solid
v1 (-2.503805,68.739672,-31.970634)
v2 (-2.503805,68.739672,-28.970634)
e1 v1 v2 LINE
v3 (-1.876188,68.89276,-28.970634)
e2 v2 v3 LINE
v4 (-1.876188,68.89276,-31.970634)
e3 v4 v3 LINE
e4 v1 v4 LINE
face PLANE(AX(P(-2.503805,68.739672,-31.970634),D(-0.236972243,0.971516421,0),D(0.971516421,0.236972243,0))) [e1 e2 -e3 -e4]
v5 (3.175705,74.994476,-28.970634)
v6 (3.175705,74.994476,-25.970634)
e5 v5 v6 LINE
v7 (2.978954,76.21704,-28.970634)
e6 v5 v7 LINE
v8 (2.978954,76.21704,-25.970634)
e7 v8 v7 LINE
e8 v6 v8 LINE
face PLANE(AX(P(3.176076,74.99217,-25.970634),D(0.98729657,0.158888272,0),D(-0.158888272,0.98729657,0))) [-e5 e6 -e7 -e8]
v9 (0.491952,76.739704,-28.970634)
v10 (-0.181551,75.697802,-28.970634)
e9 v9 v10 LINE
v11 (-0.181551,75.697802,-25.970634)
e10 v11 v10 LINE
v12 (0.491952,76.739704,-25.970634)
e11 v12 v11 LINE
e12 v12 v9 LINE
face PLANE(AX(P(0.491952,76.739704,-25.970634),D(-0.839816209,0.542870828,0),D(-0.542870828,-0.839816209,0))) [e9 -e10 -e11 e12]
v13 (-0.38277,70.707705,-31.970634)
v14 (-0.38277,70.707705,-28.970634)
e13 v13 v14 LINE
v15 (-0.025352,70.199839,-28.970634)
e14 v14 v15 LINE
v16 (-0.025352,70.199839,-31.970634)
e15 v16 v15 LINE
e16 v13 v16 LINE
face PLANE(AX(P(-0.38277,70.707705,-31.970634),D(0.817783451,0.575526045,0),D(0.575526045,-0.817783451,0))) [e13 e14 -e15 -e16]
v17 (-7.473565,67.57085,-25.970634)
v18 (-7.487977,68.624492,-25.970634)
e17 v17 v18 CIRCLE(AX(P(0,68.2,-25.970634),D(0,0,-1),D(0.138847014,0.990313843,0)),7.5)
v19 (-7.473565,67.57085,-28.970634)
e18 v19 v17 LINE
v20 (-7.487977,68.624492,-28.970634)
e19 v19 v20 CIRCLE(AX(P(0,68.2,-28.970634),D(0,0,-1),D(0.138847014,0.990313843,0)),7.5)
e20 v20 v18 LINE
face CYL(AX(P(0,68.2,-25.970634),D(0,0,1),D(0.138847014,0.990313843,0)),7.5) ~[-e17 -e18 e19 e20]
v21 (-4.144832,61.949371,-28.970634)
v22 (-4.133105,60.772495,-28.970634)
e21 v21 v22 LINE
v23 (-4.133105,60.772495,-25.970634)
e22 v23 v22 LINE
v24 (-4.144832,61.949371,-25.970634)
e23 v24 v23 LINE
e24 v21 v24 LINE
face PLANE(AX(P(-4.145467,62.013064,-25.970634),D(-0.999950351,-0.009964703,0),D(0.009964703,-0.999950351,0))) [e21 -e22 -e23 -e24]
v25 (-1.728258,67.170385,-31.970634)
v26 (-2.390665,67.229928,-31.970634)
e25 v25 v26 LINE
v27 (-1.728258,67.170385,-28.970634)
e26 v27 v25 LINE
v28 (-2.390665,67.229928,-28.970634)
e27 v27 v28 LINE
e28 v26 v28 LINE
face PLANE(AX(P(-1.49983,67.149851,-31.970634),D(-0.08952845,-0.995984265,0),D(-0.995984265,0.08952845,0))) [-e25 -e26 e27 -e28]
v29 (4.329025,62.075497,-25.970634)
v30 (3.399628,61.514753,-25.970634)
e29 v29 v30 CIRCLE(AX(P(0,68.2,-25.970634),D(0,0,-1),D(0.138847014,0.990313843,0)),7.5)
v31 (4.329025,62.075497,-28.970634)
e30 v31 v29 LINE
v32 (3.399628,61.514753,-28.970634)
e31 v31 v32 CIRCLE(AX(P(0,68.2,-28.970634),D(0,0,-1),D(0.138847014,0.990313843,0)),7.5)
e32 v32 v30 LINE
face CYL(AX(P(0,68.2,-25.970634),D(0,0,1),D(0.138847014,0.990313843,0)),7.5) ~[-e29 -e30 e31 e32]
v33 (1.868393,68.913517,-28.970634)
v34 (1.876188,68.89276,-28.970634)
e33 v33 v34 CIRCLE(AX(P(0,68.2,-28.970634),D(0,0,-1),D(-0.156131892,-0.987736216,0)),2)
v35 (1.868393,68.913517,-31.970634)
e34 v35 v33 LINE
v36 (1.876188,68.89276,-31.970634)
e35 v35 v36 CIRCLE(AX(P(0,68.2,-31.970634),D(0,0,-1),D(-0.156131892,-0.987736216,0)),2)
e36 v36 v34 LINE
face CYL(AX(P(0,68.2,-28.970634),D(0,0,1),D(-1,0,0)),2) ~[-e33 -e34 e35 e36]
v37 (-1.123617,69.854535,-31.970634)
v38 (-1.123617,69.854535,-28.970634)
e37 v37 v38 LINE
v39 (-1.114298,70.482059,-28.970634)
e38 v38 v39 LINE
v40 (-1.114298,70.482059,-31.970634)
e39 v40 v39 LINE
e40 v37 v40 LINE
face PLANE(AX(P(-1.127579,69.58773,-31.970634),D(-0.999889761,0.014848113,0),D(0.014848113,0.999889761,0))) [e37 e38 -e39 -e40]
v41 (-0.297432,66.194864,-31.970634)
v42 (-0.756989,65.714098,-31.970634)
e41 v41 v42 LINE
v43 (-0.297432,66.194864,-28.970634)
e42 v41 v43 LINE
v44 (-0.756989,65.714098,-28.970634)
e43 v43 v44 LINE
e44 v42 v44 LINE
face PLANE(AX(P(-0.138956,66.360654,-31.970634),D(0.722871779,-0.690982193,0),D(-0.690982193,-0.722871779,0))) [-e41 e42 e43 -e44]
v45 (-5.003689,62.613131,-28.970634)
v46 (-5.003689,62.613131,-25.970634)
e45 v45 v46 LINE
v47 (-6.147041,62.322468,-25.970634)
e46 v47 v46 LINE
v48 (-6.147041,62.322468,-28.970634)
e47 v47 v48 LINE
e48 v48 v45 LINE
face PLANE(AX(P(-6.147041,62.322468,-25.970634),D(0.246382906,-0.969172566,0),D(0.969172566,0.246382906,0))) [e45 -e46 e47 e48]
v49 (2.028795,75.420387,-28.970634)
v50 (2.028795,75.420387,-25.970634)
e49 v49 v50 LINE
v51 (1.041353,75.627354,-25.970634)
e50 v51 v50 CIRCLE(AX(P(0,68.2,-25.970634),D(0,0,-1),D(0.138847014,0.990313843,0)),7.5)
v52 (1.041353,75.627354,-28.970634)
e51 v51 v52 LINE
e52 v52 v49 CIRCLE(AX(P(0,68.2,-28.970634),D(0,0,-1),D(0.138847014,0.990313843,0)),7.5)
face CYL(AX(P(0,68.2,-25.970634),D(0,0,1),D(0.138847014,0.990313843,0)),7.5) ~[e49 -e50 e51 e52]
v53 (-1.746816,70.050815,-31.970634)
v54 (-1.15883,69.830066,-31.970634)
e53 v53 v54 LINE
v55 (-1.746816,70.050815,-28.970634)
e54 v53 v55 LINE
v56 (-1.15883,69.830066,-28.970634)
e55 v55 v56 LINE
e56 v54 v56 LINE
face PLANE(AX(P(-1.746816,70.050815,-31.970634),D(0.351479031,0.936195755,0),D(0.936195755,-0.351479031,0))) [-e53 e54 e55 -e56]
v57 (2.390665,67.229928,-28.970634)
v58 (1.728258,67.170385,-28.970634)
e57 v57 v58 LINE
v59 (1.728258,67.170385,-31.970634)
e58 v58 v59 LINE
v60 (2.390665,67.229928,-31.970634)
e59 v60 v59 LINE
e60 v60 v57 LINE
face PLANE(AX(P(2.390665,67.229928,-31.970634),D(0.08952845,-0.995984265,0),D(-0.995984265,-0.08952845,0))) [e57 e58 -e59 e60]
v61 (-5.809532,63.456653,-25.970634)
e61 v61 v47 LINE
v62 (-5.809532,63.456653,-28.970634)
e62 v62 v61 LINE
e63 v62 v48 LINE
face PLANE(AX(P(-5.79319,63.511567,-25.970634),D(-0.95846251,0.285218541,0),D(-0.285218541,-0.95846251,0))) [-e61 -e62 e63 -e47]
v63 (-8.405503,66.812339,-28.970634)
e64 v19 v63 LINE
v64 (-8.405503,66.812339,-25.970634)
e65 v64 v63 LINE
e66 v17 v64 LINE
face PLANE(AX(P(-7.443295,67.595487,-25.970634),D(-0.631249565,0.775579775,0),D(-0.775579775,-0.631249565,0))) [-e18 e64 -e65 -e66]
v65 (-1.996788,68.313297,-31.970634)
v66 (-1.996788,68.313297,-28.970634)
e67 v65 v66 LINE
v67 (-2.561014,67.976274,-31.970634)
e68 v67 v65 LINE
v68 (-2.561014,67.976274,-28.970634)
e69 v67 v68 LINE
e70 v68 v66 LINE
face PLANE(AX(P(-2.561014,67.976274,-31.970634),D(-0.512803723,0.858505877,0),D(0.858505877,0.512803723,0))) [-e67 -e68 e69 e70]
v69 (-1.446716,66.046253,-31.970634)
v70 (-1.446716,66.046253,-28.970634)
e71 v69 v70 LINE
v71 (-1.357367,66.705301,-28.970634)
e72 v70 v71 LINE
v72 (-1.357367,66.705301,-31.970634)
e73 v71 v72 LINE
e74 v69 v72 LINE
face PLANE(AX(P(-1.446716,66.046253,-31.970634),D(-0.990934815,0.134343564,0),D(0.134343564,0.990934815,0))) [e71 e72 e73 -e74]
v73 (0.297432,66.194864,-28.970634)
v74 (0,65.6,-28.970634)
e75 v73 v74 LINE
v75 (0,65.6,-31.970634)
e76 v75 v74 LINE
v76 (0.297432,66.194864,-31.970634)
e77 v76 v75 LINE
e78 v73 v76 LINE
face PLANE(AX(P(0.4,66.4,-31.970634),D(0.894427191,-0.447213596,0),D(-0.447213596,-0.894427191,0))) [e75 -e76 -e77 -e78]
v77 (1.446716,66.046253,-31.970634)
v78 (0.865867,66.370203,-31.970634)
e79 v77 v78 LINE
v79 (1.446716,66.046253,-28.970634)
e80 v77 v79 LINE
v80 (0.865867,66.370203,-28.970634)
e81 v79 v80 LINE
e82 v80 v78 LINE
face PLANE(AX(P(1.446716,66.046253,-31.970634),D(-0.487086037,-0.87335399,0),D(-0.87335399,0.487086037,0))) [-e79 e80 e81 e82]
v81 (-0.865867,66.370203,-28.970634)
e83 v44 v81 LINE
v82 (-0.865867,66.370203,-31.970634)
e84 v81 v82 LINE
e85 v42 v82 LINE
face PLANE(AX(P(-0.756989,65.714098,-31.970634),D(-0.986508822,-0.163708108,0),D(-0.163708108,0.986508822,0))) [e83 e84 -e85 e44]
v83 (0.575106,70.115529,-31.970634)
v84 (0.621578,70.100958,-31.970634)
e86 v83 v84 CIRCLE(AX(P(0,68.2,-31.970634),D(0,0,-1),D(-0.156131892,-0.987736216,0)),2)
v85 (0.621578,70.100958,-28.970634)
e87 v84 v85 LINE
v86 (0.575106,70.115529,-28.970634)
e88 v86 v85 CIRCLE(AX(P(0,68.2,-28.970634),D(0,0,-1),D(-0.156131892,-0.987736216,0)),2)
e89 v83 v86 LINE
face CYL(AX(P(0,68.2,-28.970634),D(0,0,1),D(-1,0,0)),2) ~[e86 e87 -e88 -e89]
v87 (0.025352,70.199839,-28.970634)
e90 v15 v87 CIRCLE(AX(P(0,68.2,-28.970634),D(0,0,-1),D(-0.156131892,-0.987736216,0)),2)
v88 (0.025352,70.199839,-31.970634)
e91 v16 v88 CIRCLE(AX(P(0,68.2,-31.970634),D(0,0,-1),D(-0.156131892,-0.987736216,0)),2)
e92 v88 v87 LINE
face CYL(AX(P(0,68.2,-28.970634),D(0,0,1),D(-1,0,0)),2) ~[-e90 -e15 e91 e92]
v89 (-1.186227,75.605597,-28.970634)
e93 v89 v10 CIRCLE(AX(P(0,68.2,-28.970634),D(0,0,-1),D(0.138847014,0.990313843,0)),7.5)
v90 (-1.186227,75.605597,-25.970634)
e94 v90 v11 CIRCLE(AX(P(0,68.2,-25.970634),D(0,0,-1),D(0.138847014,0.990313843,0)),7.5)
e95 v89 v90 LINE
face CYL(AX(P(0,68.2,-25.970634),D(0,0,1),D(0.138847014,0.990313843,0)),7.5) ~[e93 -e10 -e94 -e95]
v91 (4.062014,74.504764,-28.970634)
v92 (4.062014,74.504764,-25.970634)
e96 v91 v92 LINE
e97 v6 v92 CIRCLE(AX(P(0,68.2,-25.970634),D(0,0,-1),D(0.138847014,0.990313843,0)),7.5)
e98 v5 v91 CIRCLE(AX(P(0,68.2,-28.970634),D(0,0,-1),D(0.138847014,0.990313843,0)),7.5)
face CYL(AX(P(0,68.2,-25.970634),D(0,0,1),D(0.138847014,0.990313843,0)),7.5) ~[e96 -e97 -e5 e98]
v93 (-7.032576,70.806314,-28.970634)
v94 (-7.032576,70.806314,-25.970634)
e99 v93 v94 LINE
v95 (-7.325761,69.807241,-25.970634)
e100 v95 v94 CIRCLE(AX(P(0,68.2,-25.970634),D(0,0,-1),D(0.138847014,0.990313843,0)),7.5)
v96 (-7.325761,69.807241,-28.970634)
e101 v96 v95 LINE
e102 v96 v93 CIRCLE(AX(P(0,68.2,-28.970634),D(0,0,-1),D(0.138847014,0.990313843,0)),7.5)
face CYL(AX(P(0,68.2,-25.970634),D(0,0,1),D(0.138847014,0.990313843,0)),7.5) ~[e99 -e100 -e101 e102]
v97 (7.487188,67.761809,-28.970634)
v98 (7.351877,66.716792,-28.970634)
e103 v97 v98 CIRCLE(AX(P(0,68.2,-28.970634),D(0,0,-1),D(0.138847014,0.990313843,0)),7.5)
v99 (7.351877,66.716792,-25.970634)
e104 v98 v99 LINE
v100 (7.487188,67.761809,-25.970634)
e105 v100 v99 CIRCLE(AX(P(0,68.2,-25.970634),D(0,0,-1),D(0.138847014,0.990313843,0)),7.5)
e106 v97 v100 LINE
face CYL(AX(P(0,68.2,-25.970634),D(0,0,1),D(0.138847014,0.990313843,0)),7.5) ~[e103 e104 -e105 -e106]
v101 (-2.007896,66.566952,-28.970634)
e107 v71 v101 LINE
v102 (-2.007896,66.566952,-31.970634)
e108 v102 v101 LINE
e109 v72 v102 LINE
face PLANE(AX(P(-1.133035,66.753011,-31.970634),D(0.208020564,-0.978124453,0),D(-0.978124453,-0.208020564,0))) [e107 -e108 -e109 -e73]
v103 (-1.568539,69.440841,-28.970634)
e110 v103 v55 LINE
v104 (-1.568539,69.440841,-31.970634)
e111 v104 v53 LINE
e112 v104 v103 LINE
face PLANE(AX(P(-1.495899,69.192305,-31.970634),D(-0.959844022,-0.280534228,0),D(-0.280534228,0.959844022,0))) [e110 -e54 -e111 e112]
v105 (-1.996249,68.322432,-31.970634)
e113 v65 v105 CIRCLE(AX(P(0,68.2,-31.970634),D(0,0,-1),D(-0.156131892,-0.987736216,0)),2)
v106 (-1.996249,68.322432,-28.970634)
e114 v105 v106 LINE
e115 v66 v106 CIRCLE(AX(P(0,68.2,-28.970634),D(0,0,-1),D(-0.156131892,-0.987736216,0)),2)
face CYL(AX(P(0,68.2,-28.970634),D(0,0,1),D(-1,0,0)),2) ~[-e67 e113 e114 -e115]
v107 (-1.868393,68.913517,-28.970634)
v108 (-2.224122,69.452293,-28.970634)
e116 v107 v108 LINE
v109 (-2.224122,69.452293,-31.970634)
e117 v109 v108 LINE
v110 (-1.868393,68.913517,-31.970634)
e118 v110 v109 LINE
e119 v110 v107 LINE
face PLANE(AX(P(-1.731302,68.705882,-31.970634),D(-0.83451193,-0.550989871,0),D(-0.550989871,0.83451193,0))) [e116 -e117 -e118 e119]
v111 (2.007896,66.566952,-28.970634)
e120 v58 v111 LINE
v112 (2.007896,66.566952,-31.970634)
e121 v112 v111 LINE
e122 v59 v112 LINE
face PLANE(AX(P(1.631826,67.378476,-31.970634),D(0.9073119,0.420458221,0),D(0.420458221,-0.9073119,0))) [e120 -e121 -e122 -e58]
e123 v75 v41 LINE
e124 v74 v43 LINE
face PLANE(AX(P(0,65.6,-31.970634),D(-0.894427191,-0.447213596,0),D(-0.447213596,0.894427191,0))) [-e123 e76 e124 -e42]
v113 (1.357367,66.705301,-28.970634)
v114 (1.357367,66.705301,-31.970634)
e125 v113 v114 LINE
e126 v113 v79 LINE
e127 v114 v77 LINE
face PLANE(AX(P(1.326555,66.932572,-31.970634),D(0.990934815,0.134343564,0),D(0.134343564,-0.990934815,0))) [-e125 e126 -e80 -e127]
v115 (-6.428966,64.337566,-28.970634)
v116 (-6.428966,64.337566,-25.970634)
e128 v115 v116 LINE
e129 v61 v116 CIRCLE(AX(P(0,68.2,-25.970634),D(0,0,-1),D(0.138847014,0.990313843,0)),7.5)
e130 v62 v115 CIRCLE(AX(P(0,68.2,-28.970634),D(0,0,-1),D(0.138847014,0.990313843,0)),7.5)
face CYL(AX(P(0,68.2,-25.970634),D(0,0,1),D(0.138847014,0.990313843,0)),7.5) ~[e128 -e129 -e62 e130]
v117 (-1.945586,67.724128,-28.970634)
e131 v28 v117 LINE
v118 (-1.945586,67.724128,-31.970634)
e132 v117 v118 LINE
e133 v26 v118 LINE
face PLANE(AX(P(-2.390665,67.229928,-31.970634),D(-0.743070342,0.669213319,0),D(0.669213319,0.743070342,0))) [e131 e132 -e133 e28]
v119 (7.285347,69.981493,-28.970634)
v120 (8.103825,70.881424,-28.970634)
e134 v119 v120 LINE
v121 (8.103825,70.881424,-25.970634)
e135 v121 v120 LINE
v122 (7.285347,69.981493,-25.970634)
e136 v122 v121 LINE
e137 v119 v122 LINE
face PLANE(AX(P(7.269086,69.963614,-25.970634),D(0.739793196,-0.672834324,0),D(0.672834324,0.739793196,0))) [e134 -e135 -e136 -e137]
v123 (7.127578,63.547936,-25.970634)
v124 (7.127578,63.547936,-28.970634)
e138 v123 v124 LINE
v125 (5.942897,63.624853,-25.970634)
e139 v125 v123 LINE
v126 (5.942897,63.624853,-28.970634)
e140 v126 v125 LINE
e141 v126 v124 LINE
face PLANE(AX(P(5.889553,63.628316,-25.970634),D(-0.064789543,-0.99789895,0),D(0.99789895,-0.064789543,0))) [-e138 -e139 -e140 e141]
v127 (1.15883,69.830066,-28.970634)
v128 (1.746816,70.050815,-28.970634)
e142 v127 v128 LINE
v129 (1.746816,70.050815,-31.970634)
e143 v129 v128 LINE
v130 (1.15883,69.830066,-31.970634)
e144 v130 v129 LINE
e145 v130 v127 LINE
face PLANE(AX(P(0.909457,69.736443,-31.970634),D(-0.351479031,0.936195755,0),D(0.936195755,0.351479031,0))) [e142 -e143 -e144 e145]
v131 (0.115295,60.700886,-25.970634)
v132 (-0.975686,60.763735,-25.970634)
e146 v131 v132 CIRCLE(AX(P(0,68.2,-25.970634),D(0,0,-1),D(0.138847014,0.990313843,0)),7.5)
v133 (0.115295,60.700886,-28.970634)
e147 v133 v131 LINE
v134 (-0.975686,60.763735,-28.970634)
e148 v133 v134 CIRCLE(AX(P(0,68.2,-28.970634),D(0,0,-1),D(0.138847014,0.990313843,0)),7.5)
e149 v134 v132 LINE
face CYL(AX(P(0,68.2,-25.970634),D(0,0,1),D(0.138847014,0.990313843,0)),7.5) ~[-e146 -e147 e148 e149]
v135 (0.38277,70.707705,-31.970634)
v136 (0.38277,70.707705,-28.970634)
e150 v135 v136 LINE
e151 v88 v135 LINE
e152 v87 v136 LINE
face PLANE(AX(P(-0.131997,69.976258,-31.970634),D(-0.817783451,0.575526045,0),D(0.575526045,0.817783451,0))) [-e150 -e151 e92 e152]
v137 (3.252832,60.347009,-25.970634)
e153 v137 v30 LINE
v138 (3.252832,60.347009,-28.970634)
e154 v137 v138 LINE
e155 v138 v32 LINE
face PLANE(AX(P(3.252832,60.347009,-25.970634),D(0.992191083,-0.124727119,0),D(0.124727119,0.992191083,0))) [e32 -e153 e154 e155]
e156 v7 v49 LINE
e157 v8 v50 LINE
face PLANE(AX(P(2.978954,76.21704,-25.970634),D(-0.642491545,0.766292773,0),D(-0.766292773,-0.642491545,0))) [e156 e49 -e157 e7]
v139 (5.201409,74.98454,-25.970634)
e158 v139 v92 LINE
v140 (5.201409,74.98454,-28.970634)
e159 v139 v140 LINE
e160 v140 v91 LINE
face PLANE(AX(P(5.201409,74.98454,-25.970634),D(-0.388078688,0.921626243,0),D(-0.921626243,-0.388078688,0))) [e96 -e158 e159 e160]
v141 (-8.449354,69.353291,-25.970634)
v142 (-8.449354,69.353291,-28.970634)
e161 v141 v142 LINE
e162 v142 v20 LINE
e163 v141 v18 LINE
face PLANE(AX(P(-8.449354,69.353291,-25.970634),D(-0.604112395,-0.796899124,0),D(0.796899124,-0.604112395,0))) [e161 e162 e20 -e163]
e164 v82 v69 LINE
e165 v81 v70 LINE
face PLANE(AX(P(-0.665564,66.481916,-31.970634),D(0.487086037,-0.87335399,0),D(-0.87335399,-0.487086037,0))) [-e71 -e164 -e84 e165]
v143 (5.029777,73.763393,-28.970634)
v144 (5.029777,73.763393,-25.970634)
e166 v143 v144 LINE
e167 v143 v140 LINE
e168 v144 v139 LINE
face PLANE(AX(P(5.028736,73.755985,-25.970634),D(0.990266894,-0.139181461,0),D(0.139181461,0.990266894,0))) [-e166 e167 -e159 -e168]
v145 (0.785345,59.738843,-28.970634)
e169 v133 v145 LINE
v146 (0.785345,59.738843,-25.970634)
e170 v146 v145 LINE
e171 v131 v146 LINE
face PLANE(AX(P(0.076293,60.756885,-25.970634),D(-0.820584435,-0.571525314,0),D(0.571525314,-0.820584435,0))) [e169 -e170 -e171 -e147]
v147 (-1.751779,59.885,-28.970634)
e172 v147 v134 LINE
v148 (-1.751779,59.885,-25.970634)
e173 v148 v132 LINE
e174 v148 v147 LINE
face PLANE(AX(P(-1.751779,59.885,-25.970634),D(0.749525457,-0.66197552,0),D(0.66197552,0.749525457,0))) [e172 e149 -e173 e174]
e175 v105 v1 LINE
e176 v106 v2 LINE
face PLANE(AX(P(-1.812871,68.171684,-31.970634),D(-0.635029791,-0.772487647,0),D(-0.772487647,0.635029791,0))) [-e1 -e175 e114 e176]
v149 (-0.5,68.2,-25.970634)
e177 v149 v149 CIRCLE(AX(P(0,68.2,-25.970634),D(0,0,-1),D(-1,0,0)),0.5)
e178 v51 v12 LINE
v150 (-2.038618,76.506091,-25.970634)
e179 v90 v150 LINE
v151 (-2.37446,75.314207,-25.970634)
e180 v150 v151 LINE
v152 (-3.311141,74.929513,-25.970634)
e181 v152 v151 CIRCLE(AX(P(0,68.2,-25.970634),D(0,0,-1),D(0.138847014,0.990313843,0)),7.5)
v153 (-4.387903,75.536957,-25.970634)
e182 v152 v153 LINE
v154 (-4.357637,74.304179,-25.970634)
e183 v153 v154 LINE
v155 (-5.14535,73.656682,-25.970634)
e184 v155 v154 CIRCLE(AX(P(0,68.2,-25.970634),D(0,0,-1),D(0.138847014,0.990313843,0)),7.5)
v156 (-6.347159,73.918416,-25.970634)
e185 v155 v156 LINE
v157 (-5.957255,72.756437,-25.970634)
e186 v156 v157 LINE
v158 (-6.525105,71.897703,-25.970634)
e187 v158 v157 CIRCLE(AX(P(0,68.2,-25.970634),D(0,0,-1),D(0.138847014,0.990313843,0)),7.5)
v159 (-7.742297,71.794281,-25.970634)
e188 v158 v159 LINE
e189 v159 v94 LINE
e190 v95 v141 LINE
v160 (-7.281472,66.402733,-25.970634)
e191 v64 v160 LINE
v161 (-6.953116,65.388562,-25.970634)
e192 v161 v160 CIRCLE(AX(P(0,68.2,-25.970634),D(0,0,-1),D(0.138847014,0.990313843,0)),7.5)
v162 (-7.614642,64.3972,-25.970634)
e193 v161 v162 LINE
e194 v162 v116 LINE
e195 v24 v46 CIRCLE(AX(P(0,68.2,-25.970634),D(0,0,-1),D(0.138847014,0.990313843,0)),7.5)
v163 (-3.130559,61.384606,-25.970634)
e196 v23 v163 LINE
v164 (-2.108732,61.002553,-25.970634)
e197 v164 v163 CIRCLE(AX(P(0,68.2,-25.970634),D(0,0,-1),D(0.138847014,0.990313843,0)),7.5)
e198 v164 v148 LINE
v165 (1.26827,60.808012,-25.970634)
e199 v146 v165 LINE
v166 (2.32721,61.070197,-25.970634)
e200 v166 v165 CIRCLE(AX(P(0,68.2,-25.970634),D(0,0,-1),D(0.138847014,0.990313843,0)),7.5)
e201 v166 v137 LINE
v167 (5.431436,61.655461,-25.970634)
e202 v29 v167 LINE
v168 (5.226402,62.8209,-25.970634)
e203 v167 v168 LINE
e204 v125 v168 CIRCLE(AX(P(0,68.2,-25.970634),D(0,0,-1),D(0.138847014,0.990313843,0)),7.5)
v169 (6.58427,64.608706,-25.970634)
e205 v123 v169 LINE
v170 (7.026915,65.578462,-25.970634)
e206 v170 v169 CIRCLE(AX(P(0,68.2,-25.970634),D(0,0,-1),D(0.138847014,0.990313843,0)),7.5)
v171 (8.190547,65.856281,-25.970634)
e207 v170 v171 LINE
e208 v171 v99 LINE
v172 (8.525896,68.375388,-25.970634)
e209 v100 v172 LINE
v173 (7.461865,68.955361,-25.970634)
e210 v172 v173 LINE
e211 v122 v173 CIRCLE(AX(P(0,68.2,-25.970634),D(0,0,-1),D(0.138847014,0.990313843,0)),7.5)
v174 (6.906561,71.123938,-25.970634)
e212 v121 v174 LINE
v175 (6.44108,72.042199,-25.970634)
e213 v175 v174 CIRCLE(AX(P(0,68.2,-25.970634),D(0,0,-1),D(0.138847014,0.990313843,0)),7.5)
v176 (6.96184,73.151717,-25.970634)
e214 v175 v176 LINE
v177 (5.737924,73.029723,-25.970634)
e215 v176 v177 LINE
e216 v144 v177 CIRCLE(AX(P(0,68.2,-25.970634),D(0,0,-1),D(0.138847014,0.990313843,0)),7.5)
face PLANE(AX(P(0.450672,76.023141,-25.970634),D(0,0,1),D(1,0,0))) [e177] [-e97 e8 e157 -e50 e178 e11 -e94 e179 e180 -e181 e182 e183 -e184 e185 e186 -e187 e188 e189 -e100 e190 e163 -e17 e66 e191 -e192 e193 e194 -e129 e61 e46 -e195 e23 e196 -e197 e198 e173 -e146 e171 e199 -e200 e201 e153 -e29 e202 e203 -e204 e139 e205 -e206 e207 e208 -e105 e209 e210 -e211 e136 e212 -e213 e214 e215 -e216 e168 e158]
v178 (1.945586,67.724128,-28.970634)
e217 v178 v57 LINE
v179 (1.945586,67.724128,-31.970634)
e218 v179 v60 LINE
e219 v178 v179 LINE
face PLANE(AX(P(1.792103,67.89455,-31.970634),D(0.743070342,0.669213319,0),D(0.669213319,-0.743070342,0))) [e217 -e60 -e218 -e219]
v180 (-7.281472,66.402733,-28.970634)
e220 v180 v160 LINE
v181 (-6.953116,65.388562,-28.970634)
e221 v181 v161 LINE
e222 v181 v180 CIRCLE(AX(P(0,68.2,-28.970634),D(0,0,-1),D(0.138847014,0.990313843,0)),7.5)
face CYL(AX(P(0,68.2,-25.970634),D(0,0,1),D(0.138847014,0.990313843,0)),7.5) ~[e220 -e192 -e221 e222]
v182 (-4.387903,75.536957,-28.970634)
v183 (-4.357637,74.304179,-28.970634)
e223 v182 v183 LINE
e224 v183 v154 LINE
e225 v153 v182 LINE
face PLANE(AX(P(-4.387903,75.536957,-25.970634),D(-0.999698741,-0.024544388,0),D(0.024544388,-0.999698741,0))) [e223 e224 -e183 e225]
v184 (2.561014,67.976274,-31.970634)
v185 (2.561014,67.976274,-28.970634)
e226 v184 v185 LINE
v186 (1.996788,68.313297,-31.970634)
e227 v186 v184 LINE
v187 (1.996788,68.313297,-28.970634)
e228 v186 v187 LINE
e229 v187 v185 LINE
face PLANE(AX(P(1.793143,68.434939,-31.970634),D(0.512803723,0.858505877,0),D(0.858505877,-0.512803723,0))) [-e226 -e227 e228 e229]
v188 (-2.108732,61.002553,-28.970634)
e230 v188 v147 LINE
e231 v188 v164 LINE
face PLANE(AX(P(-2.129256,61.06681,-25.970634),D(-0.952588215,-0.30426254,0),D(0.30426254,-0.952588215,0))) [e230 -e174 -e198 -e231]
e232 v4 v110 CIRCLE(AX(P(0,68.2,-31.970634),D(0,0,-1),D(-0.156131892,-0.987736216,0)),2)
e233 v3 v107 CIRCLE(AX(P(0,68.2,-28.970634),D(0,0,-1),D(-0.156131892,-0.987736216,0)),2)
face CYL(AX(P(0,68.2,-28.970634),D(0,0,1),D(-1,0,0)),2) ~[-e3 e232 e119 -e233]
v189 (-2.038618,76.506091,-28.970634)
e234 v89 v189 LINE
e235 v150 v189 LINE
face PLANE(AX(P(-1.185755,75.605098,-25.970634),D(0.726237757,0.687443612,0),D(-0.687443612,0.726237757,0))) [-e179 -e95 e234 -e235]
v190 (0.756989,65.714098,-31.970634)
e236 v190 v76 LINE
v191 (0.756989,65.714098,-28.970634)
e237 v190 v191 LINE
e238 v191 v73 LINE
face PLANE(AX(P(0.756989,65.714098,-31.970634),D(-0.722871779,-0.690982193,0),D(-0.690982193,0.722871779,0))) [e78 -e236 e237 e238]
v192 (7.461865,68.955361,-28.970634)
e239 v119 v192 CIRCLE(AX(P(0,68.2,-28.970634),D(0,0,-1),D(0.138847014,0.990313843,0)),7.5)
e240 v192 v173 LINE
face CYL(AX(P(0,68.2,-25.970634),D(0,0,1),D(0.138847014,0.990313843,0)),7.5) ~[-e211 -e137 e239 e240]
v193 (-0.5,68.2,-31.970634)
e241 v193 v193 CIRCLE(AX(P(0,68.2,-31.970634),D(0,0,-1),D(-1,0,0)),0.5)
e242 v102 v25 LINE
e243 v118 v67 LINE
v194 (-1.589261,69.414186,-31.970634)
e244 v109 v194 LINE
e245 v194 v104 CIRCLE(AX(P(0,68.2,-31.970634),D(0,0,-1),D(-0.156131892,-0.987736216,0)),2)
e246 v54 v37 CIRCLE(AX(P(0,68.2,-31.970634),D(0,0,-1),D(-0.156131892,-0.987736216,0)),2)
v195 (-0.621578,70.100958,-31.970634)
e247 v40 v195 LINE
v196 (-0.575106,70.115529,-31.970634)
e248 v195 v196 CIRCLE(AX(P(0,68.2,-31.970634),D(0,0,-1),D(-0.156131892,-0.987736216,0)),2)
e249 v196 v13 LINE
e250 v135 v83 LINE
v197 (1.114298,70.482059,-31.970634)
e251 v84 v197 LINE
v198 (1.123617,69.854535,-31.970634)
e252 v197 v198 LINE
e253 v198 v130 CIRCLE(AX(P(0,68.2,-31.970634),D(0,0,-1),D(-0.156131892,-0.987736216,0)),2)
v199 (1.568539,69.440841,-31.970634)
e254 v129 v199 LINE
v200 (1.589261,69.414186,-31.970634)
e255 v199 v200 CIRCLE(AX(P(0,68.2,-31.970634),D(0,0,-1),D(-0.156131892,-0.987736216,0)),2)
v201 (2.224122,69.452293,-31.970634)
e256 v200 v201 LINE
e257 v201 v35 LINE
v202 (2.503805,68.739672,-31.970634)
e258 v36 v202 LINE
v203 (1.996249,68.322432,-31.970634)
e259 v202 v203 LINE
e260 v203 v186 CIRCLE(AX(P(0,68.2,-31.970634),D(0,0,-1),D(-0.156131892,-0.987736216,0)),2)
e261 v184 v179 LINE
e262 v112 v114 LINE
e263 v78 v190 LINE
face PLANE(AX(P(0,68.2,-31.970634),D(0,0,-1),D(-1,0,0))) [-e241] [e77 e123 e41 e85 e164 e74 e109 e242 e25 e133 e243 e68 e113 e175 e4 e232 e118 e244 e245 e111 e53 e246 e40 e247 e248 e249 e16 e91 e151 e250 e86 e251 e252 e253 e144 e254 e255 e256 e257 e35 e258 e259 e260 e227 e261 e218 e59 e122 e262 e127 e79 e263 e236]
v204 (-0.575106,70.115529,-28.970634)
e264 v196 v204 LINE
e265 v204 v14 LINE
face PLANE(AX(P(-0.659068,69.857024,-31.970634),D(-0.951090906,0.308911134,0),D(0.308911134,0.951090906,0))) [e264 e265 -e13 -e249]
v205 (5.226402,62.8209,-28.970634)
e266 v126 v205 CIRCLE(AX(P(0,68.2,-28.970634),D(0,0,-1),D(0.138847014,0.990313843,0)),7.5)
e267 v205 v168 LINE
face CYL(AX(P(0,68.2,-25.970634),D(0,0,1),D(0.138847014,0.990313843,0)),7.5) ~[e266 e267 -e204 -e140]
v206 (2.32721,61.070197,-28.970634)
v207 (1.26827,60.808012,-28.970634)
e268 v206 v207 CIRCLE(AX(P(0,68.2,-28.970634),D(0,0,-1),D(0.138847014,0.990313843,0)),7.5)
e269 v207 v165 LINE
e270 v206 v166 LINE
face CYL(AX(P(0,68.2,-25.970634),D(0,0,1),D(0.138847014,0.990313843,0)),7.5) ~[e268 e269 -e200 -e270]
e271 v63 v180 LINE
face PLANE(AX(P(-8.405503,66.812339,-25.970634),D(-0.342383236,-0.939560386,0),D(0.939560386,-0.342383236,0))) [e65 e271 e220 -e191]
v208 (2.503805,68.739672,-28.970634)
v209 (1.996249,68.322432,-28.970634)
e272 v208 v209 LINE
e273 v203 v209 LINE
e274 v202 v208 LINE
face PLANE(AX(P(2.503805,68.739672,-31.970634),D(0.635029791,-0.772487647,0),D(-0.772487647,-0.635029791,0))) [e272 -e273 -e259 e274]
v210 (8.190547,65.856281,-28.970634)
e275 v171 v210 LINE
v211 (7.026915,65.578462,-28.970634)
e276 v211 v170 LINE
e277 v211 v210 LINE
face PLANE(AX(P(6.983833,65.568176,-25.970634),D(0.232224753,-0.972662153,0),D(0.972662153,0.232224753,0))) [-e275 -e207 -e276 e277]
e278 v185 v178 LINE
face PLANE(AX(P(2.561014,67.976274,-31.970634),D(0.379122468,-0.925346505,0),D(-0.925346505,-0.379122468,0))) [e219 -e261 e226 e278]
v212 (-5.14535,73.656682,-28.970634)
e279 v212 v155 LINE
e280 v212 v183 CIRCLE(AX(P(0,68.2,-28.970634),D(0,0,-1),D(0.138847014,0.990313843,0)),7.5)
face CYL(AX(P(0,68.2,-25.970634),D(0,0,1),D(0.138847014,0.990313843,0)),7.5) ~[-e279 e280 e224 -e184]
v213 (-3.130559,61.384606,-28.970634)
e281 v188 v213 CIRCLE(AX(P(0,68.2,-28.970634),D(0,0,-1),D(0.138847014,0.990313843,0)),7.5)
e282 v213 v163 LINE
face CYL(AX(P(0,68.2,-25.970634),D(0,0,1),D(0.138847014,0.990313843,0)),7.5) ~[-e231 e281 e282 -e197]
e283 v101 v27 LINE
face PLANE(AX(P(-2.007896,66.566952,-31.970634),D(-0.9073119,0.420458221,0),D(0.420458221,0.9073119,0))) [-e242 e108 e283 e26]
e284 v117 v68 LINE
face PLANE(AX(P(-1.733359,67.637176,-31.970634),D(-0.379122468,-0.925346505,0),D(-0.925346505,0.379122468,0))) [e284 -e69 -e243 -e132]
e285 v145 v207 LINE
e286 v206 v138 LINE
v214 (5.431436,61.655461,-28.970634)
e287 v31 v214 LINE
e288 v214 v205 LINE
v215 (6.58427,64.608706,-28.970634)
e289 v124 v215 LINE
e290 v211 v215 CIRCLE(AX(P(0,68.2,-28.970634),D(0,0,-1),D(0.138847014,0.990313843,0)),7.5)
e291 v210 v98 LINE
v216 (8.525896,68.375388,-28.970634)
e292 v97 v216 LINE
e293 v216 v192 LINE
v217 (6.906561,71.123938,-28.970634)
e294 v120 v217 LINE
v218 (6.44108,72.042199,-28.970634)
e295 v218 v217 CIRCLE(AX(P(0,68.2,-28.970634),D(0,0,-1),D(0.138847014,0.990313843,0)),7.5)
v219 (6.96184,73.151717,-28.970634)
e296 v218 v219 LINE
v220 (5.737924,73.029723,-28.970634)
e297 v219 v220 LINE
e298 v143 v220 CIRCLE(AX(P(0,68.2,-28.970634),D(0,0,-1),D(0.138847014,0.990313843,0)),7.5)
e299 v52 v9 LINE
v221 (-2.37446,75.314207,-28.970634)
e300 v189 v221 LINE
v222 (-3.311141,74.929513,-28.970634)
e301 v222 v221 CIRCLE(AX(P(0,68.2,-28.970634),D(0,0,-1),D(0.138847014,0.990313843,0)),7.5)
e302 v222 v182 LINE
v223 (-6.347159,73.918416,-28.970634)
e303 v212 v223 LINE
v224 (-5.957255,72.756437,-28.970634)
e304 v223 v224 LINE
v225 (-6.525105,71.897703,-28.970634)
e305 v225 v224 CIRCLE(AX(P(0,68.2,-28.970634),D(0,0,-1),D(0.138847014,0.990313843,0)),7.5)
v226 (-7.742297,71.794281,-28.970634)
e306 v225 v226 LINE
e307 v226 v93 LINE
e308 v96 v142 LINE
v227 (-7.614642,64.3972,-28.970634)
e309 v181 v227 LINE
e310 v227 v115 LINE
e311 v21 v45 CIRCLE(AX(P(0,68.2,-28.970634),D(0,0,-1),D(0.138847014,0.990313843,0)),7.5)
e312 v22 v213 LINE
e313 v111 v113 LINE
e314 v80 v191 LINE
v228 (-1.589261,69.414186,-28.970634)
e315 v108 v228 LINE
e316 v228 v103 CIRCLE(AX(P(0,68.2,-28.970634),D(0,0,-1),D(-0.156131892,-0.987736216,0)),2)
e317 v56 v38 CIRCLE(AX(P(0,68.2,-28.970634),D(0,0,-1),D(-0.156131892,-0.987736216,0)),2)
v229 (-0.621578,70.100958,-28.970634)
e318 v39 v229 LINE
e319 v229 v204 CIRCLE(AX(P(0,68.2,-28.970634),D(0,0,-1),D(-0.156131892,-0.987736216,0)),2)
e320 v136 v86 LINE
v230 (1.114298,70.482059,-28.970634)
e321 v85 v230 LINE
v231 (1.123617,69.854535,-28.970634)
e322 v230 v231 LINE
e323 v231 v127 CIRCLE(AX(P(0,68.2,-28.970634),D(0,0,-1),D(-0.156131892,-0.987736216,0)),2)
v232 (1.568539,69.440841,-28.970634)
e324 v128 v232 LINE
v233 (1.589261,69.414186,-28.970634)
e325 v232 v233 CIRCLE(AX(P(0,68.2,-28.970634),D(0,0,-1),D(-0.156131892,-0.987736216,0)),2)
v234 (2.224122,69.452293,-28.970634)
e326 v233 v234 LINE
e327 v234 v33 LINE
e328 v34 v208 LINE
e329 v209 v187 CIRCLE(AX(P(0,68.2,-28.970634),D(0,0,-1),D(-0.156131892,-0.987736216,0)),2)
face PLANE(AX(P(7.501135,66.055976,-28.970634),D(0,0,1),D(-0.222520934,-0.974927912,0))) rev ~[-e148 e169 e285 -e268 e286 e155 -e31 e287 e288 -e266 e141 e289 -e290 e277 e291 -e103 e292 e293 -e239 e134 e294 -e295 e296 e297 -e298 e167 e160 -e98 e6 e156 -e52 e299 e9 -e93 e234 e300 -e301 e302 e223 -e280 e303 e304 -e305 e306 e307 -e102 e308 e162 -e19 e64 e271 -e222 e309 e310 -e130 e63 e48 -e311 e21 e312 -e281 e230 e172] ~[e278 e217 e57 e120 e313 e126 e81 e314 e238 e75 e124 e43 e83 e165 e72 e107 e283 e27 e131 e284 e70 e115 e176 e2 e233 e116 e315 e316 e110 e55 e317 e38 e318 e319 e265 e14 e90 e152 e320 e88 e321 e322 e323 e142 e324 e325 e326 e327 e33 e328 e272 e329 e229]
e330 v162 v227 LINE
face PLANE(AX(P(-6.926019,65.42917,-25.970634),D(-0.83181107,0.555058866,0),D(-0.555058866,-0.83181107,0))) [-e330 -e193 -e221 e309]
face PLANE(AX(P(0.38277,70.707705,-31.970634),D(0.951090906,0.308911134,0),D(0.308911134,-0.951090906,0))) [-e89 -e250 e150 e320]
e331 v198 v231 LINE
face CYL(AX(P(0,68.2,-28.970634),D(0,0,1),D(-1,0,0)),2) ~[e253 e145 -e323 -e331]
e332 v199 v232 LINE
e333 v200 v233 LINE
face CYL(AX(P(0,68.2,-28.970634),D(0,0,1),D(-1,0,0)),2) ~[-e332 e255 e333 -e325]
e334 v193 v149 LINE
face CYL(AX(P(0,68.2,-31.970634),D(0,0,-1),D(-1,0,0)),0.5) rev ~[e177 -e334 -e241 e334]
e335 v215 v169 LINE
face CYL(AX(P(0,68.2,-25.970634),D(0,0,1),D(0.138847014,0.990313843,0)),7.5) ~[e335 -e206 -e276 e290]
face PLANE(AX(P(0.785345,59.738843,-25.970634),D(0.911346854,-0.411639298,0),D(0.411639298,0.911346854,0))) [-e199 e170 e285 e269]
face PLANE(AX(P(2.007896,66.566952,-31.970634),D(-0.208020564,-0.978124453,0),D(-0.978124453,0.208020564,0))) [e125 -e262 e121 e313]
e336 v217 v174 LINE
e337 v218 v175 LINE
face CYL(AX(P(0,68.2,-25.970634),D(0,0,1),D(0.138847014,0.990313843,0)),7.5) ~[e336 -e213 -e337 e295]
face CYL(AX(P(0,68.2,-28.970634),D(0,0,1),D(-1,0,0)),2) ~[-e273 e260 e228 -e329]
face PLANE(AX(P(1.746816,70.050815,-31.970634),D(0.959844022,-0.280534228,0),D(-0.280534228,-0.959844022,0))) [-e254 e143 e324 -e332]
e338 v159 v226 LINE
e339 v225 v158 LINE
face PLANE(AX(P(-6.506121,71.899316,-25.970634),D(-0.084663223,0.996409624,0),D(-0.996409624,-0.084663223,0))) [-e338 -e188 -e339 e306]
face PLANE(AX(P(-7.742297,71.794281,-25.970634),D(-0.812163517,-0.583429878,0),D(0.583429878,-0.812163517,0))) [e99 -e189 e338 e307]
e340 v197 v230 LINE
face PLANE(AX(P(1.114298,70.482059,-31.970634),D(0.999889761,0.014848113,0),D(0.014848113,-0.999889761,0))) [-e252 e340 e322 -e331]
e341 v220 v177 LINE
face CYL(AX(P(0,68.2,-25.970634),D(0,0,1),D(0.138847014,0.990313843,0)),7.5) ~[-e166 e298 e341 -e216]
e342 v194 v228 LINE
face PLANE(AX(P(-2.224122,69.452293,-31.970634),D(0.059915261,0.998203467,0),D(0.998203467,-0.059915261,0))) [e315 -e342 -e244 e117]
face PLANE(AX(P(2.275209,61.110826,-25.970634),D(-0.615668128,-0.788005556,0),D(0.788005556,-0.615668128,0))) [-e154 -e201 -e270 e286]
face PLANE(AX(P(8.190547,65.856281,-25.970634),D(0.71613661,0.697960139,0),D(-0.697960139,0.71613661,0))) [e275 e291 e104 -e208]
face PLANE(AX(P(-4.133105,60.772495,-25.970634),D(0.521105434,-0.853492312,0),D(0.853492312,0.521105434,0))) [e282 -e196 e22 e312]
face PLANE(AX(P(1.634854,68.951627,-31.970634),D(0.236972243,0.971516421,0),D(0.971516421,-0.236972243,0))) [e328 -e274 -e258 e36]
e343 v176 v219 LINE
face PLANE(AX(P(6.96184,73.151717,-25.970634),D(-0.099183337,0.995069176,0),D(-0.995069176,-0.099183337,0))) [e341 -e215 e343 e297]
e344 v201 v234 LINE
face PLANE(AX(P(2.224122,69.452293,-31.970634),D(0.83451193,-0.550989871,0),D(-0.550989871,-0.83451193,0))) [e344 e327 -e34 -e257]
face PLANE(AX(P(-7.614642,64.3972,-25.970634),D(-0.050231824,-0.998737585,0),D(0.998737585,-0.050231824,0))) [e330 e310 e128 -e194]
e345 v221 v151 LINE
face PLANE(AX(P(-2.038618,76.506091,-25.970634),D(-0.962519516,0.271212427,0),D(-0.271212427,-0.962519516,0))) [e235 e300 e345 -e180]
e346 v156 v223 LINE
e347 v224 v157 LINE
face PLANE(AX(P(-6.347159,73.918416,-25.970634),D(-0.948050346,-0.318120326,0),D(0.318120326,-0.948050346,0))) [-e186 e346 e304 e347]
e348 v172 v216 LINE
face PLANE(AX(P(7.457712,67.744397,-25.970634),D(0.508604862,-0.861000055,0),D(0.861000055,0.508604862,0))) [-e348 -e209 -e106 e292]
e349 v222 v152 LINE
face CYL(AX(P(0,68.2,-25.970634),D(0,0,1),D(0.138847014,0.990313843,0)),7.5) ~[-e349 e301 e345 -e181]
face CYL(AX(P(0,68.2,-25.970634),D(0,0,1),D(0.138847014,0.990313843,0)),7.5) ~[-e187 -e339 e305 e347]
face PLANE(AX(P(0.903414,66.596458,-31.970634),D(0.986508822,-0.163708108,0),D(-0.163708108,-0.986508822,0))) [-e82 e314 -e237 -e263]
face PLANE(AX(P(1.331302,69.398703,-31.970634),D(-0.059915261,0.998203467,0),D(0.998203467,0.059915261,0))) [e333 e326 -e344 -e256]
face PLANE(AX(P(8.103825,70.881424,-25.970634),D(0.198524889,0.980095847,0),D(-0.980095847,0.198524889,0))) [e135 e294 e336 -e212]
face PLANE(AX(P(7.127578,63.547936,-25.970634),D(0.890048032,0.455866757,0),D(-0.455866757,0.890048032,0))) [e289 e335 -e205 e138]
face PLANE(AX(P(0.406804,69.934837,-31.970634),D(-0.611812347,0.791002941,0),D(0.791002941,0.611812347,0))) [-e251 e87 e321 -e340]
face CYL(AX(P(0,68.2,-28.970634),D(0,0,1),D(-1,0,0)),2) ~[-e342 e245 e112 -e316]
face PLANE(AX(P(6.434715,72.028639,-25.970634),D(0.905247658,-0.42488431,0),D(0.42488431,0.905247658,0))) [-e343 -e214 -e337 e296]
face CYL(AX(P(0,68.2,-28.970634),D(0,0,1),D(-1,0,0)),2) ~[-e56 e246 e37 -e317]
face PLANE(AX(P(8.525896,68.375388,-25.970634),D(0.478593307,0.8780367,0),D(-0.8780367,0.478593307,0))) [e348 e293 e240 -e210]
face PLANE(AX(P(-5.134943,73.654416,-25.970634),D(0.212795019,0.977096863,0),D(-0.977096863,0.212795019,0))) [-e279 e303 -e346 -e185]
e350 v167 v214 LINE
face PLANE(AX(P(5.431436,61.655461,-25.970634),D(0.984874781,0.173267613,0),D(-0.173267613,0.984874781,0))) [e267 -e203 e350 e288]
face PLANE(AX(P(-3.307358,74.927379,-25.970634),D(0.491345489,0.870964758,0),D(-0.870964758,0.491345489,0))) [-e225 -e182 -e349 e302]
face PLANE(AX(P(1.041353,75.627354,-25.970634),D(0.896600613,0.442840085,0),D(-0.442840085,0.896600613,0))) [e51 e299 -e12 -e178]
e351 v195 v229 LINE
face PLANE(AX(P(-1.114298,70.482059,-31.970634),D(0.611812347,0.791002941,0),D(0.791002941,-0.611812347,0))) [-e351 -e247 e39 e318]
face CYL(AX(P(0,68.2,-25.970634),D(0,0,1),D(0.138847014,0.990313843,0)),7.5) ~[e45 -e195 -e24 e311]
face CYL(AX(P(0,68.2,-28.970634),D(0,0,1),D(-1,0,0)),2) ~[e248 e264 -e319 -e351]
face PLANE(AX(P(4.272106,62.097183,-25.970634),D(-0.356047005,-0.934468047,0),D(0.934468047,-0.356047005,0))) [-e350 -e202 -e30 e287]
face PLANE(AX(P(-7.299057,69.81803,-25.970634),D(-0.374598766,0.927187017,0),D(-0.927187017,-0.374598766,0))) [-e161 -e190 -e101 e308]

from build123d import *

# Parameters (mm, degrees)
BOSS_EXTRUDE1_DEPTH = 3
BOSS_EXTRUDE3_DEPTH = 3
CIRPATTERN1_COUNT   = 21
SKETCH7_R           = 2
BOSS_EXTRUDE4_DEPTH = 3
BOSS_EXTRUDE5_DEPTH = 3
CIRPATTERN2_COUNT   = 21
SKETCH9_R           = 0.5
CUT_EXTRUDE1_DEPTH  = 6


with BuildPart() as part:
    # Sketch3 → Boss-Extrude1 (new body)
    with BuildSketch(Plane(origin=(0, 0, -25.970633743), x_dir=(-1, 0, 0), z_dir=(0, 0, -1))):
        with BuildLine():
            ThreePointArc((-1.041352606, 75.627353819), (0.431341592, 60.712413978), (0.181550718, 75.6978023))
            Line((0.181550718, 75.6978023), (-1.041352606, 75.627353819))
        make_face()
    extrude(amount=BOSS_EXTRUDE1_DEPTH)

    # Sketch5 → Boss-Extrude3 (add)
    with BuildSketch(Plane.XY.offset(-25.970633743)):
        Polygon((-0.181550718, 75.6978023), (1.041352606, 75.627353819), (0.491951555, 76.73970416), align=None)
    boss_extrude3 = extrude(amount=-BOSS_EXTRUDE3_DEPTH)

    # CirPattern1: Boss-Extrude3 ×21 about axis
    cirpattern1_axis = Axis((0.001629139, 68.228279947, 0), (0, 0, 1))
    for i in range(1, CIRPATTERN1_COUNT):
        add(boss_extrude3.rotate(cirpattern1_axis, i * 360 / CIRPATTERN1_COUNT))

    # Sketch7 → Boss-Extrude4 (add)
    with BuildSketch(Plane(origin=(0, 0, -28.970633743), x_dir=(-1, 0, 0), z_dir=(0, 0, -1))):
        with Locations((0, 68.2)):
            Circle(SKETCH7_R)
    extrude(amount=BOSS_EXTRUDE4_DEPTH)

    # Sketch8 → Boss-Extrude5 (add)
    with BuildSketch(Plane(origin=(0, 0, -31.970633743), x_dir=(-1, 0, 0), z_dir=(0, 0, -1))):
        Polygon((0.4, 66.4), (-0.4, 66.4), (0, 65.6), align=None)
    boss_extrude5 = extrude(amount=-BOSS_EXTRUDE5_DEPTH)

    # CirPattern2: Boss-Extrude5 ×21 about axis
    cirpattern2_axis = Axis((0, 68.168195033, 0), (0, 0, 1))
    for i in range(1, CIRPATTERN2_COUNT):
        add(boss_extrude5.rotate(cirpattern2_axis, i * 360 / CIRPATTERN2_COUNT))

    # Sketch9 → Cut-Extrude1 (cut)
    with BuildSketch(Plane(origin=(0, 0, -31.970633743), x_dir=(-1, 0, 0), z_dir=(0, 0, -1))):
        with Locations((0, 68.2)):
            Circle(SKETCH9_R)
    extrude(amount=-CUT_EXTRUDE1_DEPTH, mode=Mode.SUBTRACT)


solid = part.part
